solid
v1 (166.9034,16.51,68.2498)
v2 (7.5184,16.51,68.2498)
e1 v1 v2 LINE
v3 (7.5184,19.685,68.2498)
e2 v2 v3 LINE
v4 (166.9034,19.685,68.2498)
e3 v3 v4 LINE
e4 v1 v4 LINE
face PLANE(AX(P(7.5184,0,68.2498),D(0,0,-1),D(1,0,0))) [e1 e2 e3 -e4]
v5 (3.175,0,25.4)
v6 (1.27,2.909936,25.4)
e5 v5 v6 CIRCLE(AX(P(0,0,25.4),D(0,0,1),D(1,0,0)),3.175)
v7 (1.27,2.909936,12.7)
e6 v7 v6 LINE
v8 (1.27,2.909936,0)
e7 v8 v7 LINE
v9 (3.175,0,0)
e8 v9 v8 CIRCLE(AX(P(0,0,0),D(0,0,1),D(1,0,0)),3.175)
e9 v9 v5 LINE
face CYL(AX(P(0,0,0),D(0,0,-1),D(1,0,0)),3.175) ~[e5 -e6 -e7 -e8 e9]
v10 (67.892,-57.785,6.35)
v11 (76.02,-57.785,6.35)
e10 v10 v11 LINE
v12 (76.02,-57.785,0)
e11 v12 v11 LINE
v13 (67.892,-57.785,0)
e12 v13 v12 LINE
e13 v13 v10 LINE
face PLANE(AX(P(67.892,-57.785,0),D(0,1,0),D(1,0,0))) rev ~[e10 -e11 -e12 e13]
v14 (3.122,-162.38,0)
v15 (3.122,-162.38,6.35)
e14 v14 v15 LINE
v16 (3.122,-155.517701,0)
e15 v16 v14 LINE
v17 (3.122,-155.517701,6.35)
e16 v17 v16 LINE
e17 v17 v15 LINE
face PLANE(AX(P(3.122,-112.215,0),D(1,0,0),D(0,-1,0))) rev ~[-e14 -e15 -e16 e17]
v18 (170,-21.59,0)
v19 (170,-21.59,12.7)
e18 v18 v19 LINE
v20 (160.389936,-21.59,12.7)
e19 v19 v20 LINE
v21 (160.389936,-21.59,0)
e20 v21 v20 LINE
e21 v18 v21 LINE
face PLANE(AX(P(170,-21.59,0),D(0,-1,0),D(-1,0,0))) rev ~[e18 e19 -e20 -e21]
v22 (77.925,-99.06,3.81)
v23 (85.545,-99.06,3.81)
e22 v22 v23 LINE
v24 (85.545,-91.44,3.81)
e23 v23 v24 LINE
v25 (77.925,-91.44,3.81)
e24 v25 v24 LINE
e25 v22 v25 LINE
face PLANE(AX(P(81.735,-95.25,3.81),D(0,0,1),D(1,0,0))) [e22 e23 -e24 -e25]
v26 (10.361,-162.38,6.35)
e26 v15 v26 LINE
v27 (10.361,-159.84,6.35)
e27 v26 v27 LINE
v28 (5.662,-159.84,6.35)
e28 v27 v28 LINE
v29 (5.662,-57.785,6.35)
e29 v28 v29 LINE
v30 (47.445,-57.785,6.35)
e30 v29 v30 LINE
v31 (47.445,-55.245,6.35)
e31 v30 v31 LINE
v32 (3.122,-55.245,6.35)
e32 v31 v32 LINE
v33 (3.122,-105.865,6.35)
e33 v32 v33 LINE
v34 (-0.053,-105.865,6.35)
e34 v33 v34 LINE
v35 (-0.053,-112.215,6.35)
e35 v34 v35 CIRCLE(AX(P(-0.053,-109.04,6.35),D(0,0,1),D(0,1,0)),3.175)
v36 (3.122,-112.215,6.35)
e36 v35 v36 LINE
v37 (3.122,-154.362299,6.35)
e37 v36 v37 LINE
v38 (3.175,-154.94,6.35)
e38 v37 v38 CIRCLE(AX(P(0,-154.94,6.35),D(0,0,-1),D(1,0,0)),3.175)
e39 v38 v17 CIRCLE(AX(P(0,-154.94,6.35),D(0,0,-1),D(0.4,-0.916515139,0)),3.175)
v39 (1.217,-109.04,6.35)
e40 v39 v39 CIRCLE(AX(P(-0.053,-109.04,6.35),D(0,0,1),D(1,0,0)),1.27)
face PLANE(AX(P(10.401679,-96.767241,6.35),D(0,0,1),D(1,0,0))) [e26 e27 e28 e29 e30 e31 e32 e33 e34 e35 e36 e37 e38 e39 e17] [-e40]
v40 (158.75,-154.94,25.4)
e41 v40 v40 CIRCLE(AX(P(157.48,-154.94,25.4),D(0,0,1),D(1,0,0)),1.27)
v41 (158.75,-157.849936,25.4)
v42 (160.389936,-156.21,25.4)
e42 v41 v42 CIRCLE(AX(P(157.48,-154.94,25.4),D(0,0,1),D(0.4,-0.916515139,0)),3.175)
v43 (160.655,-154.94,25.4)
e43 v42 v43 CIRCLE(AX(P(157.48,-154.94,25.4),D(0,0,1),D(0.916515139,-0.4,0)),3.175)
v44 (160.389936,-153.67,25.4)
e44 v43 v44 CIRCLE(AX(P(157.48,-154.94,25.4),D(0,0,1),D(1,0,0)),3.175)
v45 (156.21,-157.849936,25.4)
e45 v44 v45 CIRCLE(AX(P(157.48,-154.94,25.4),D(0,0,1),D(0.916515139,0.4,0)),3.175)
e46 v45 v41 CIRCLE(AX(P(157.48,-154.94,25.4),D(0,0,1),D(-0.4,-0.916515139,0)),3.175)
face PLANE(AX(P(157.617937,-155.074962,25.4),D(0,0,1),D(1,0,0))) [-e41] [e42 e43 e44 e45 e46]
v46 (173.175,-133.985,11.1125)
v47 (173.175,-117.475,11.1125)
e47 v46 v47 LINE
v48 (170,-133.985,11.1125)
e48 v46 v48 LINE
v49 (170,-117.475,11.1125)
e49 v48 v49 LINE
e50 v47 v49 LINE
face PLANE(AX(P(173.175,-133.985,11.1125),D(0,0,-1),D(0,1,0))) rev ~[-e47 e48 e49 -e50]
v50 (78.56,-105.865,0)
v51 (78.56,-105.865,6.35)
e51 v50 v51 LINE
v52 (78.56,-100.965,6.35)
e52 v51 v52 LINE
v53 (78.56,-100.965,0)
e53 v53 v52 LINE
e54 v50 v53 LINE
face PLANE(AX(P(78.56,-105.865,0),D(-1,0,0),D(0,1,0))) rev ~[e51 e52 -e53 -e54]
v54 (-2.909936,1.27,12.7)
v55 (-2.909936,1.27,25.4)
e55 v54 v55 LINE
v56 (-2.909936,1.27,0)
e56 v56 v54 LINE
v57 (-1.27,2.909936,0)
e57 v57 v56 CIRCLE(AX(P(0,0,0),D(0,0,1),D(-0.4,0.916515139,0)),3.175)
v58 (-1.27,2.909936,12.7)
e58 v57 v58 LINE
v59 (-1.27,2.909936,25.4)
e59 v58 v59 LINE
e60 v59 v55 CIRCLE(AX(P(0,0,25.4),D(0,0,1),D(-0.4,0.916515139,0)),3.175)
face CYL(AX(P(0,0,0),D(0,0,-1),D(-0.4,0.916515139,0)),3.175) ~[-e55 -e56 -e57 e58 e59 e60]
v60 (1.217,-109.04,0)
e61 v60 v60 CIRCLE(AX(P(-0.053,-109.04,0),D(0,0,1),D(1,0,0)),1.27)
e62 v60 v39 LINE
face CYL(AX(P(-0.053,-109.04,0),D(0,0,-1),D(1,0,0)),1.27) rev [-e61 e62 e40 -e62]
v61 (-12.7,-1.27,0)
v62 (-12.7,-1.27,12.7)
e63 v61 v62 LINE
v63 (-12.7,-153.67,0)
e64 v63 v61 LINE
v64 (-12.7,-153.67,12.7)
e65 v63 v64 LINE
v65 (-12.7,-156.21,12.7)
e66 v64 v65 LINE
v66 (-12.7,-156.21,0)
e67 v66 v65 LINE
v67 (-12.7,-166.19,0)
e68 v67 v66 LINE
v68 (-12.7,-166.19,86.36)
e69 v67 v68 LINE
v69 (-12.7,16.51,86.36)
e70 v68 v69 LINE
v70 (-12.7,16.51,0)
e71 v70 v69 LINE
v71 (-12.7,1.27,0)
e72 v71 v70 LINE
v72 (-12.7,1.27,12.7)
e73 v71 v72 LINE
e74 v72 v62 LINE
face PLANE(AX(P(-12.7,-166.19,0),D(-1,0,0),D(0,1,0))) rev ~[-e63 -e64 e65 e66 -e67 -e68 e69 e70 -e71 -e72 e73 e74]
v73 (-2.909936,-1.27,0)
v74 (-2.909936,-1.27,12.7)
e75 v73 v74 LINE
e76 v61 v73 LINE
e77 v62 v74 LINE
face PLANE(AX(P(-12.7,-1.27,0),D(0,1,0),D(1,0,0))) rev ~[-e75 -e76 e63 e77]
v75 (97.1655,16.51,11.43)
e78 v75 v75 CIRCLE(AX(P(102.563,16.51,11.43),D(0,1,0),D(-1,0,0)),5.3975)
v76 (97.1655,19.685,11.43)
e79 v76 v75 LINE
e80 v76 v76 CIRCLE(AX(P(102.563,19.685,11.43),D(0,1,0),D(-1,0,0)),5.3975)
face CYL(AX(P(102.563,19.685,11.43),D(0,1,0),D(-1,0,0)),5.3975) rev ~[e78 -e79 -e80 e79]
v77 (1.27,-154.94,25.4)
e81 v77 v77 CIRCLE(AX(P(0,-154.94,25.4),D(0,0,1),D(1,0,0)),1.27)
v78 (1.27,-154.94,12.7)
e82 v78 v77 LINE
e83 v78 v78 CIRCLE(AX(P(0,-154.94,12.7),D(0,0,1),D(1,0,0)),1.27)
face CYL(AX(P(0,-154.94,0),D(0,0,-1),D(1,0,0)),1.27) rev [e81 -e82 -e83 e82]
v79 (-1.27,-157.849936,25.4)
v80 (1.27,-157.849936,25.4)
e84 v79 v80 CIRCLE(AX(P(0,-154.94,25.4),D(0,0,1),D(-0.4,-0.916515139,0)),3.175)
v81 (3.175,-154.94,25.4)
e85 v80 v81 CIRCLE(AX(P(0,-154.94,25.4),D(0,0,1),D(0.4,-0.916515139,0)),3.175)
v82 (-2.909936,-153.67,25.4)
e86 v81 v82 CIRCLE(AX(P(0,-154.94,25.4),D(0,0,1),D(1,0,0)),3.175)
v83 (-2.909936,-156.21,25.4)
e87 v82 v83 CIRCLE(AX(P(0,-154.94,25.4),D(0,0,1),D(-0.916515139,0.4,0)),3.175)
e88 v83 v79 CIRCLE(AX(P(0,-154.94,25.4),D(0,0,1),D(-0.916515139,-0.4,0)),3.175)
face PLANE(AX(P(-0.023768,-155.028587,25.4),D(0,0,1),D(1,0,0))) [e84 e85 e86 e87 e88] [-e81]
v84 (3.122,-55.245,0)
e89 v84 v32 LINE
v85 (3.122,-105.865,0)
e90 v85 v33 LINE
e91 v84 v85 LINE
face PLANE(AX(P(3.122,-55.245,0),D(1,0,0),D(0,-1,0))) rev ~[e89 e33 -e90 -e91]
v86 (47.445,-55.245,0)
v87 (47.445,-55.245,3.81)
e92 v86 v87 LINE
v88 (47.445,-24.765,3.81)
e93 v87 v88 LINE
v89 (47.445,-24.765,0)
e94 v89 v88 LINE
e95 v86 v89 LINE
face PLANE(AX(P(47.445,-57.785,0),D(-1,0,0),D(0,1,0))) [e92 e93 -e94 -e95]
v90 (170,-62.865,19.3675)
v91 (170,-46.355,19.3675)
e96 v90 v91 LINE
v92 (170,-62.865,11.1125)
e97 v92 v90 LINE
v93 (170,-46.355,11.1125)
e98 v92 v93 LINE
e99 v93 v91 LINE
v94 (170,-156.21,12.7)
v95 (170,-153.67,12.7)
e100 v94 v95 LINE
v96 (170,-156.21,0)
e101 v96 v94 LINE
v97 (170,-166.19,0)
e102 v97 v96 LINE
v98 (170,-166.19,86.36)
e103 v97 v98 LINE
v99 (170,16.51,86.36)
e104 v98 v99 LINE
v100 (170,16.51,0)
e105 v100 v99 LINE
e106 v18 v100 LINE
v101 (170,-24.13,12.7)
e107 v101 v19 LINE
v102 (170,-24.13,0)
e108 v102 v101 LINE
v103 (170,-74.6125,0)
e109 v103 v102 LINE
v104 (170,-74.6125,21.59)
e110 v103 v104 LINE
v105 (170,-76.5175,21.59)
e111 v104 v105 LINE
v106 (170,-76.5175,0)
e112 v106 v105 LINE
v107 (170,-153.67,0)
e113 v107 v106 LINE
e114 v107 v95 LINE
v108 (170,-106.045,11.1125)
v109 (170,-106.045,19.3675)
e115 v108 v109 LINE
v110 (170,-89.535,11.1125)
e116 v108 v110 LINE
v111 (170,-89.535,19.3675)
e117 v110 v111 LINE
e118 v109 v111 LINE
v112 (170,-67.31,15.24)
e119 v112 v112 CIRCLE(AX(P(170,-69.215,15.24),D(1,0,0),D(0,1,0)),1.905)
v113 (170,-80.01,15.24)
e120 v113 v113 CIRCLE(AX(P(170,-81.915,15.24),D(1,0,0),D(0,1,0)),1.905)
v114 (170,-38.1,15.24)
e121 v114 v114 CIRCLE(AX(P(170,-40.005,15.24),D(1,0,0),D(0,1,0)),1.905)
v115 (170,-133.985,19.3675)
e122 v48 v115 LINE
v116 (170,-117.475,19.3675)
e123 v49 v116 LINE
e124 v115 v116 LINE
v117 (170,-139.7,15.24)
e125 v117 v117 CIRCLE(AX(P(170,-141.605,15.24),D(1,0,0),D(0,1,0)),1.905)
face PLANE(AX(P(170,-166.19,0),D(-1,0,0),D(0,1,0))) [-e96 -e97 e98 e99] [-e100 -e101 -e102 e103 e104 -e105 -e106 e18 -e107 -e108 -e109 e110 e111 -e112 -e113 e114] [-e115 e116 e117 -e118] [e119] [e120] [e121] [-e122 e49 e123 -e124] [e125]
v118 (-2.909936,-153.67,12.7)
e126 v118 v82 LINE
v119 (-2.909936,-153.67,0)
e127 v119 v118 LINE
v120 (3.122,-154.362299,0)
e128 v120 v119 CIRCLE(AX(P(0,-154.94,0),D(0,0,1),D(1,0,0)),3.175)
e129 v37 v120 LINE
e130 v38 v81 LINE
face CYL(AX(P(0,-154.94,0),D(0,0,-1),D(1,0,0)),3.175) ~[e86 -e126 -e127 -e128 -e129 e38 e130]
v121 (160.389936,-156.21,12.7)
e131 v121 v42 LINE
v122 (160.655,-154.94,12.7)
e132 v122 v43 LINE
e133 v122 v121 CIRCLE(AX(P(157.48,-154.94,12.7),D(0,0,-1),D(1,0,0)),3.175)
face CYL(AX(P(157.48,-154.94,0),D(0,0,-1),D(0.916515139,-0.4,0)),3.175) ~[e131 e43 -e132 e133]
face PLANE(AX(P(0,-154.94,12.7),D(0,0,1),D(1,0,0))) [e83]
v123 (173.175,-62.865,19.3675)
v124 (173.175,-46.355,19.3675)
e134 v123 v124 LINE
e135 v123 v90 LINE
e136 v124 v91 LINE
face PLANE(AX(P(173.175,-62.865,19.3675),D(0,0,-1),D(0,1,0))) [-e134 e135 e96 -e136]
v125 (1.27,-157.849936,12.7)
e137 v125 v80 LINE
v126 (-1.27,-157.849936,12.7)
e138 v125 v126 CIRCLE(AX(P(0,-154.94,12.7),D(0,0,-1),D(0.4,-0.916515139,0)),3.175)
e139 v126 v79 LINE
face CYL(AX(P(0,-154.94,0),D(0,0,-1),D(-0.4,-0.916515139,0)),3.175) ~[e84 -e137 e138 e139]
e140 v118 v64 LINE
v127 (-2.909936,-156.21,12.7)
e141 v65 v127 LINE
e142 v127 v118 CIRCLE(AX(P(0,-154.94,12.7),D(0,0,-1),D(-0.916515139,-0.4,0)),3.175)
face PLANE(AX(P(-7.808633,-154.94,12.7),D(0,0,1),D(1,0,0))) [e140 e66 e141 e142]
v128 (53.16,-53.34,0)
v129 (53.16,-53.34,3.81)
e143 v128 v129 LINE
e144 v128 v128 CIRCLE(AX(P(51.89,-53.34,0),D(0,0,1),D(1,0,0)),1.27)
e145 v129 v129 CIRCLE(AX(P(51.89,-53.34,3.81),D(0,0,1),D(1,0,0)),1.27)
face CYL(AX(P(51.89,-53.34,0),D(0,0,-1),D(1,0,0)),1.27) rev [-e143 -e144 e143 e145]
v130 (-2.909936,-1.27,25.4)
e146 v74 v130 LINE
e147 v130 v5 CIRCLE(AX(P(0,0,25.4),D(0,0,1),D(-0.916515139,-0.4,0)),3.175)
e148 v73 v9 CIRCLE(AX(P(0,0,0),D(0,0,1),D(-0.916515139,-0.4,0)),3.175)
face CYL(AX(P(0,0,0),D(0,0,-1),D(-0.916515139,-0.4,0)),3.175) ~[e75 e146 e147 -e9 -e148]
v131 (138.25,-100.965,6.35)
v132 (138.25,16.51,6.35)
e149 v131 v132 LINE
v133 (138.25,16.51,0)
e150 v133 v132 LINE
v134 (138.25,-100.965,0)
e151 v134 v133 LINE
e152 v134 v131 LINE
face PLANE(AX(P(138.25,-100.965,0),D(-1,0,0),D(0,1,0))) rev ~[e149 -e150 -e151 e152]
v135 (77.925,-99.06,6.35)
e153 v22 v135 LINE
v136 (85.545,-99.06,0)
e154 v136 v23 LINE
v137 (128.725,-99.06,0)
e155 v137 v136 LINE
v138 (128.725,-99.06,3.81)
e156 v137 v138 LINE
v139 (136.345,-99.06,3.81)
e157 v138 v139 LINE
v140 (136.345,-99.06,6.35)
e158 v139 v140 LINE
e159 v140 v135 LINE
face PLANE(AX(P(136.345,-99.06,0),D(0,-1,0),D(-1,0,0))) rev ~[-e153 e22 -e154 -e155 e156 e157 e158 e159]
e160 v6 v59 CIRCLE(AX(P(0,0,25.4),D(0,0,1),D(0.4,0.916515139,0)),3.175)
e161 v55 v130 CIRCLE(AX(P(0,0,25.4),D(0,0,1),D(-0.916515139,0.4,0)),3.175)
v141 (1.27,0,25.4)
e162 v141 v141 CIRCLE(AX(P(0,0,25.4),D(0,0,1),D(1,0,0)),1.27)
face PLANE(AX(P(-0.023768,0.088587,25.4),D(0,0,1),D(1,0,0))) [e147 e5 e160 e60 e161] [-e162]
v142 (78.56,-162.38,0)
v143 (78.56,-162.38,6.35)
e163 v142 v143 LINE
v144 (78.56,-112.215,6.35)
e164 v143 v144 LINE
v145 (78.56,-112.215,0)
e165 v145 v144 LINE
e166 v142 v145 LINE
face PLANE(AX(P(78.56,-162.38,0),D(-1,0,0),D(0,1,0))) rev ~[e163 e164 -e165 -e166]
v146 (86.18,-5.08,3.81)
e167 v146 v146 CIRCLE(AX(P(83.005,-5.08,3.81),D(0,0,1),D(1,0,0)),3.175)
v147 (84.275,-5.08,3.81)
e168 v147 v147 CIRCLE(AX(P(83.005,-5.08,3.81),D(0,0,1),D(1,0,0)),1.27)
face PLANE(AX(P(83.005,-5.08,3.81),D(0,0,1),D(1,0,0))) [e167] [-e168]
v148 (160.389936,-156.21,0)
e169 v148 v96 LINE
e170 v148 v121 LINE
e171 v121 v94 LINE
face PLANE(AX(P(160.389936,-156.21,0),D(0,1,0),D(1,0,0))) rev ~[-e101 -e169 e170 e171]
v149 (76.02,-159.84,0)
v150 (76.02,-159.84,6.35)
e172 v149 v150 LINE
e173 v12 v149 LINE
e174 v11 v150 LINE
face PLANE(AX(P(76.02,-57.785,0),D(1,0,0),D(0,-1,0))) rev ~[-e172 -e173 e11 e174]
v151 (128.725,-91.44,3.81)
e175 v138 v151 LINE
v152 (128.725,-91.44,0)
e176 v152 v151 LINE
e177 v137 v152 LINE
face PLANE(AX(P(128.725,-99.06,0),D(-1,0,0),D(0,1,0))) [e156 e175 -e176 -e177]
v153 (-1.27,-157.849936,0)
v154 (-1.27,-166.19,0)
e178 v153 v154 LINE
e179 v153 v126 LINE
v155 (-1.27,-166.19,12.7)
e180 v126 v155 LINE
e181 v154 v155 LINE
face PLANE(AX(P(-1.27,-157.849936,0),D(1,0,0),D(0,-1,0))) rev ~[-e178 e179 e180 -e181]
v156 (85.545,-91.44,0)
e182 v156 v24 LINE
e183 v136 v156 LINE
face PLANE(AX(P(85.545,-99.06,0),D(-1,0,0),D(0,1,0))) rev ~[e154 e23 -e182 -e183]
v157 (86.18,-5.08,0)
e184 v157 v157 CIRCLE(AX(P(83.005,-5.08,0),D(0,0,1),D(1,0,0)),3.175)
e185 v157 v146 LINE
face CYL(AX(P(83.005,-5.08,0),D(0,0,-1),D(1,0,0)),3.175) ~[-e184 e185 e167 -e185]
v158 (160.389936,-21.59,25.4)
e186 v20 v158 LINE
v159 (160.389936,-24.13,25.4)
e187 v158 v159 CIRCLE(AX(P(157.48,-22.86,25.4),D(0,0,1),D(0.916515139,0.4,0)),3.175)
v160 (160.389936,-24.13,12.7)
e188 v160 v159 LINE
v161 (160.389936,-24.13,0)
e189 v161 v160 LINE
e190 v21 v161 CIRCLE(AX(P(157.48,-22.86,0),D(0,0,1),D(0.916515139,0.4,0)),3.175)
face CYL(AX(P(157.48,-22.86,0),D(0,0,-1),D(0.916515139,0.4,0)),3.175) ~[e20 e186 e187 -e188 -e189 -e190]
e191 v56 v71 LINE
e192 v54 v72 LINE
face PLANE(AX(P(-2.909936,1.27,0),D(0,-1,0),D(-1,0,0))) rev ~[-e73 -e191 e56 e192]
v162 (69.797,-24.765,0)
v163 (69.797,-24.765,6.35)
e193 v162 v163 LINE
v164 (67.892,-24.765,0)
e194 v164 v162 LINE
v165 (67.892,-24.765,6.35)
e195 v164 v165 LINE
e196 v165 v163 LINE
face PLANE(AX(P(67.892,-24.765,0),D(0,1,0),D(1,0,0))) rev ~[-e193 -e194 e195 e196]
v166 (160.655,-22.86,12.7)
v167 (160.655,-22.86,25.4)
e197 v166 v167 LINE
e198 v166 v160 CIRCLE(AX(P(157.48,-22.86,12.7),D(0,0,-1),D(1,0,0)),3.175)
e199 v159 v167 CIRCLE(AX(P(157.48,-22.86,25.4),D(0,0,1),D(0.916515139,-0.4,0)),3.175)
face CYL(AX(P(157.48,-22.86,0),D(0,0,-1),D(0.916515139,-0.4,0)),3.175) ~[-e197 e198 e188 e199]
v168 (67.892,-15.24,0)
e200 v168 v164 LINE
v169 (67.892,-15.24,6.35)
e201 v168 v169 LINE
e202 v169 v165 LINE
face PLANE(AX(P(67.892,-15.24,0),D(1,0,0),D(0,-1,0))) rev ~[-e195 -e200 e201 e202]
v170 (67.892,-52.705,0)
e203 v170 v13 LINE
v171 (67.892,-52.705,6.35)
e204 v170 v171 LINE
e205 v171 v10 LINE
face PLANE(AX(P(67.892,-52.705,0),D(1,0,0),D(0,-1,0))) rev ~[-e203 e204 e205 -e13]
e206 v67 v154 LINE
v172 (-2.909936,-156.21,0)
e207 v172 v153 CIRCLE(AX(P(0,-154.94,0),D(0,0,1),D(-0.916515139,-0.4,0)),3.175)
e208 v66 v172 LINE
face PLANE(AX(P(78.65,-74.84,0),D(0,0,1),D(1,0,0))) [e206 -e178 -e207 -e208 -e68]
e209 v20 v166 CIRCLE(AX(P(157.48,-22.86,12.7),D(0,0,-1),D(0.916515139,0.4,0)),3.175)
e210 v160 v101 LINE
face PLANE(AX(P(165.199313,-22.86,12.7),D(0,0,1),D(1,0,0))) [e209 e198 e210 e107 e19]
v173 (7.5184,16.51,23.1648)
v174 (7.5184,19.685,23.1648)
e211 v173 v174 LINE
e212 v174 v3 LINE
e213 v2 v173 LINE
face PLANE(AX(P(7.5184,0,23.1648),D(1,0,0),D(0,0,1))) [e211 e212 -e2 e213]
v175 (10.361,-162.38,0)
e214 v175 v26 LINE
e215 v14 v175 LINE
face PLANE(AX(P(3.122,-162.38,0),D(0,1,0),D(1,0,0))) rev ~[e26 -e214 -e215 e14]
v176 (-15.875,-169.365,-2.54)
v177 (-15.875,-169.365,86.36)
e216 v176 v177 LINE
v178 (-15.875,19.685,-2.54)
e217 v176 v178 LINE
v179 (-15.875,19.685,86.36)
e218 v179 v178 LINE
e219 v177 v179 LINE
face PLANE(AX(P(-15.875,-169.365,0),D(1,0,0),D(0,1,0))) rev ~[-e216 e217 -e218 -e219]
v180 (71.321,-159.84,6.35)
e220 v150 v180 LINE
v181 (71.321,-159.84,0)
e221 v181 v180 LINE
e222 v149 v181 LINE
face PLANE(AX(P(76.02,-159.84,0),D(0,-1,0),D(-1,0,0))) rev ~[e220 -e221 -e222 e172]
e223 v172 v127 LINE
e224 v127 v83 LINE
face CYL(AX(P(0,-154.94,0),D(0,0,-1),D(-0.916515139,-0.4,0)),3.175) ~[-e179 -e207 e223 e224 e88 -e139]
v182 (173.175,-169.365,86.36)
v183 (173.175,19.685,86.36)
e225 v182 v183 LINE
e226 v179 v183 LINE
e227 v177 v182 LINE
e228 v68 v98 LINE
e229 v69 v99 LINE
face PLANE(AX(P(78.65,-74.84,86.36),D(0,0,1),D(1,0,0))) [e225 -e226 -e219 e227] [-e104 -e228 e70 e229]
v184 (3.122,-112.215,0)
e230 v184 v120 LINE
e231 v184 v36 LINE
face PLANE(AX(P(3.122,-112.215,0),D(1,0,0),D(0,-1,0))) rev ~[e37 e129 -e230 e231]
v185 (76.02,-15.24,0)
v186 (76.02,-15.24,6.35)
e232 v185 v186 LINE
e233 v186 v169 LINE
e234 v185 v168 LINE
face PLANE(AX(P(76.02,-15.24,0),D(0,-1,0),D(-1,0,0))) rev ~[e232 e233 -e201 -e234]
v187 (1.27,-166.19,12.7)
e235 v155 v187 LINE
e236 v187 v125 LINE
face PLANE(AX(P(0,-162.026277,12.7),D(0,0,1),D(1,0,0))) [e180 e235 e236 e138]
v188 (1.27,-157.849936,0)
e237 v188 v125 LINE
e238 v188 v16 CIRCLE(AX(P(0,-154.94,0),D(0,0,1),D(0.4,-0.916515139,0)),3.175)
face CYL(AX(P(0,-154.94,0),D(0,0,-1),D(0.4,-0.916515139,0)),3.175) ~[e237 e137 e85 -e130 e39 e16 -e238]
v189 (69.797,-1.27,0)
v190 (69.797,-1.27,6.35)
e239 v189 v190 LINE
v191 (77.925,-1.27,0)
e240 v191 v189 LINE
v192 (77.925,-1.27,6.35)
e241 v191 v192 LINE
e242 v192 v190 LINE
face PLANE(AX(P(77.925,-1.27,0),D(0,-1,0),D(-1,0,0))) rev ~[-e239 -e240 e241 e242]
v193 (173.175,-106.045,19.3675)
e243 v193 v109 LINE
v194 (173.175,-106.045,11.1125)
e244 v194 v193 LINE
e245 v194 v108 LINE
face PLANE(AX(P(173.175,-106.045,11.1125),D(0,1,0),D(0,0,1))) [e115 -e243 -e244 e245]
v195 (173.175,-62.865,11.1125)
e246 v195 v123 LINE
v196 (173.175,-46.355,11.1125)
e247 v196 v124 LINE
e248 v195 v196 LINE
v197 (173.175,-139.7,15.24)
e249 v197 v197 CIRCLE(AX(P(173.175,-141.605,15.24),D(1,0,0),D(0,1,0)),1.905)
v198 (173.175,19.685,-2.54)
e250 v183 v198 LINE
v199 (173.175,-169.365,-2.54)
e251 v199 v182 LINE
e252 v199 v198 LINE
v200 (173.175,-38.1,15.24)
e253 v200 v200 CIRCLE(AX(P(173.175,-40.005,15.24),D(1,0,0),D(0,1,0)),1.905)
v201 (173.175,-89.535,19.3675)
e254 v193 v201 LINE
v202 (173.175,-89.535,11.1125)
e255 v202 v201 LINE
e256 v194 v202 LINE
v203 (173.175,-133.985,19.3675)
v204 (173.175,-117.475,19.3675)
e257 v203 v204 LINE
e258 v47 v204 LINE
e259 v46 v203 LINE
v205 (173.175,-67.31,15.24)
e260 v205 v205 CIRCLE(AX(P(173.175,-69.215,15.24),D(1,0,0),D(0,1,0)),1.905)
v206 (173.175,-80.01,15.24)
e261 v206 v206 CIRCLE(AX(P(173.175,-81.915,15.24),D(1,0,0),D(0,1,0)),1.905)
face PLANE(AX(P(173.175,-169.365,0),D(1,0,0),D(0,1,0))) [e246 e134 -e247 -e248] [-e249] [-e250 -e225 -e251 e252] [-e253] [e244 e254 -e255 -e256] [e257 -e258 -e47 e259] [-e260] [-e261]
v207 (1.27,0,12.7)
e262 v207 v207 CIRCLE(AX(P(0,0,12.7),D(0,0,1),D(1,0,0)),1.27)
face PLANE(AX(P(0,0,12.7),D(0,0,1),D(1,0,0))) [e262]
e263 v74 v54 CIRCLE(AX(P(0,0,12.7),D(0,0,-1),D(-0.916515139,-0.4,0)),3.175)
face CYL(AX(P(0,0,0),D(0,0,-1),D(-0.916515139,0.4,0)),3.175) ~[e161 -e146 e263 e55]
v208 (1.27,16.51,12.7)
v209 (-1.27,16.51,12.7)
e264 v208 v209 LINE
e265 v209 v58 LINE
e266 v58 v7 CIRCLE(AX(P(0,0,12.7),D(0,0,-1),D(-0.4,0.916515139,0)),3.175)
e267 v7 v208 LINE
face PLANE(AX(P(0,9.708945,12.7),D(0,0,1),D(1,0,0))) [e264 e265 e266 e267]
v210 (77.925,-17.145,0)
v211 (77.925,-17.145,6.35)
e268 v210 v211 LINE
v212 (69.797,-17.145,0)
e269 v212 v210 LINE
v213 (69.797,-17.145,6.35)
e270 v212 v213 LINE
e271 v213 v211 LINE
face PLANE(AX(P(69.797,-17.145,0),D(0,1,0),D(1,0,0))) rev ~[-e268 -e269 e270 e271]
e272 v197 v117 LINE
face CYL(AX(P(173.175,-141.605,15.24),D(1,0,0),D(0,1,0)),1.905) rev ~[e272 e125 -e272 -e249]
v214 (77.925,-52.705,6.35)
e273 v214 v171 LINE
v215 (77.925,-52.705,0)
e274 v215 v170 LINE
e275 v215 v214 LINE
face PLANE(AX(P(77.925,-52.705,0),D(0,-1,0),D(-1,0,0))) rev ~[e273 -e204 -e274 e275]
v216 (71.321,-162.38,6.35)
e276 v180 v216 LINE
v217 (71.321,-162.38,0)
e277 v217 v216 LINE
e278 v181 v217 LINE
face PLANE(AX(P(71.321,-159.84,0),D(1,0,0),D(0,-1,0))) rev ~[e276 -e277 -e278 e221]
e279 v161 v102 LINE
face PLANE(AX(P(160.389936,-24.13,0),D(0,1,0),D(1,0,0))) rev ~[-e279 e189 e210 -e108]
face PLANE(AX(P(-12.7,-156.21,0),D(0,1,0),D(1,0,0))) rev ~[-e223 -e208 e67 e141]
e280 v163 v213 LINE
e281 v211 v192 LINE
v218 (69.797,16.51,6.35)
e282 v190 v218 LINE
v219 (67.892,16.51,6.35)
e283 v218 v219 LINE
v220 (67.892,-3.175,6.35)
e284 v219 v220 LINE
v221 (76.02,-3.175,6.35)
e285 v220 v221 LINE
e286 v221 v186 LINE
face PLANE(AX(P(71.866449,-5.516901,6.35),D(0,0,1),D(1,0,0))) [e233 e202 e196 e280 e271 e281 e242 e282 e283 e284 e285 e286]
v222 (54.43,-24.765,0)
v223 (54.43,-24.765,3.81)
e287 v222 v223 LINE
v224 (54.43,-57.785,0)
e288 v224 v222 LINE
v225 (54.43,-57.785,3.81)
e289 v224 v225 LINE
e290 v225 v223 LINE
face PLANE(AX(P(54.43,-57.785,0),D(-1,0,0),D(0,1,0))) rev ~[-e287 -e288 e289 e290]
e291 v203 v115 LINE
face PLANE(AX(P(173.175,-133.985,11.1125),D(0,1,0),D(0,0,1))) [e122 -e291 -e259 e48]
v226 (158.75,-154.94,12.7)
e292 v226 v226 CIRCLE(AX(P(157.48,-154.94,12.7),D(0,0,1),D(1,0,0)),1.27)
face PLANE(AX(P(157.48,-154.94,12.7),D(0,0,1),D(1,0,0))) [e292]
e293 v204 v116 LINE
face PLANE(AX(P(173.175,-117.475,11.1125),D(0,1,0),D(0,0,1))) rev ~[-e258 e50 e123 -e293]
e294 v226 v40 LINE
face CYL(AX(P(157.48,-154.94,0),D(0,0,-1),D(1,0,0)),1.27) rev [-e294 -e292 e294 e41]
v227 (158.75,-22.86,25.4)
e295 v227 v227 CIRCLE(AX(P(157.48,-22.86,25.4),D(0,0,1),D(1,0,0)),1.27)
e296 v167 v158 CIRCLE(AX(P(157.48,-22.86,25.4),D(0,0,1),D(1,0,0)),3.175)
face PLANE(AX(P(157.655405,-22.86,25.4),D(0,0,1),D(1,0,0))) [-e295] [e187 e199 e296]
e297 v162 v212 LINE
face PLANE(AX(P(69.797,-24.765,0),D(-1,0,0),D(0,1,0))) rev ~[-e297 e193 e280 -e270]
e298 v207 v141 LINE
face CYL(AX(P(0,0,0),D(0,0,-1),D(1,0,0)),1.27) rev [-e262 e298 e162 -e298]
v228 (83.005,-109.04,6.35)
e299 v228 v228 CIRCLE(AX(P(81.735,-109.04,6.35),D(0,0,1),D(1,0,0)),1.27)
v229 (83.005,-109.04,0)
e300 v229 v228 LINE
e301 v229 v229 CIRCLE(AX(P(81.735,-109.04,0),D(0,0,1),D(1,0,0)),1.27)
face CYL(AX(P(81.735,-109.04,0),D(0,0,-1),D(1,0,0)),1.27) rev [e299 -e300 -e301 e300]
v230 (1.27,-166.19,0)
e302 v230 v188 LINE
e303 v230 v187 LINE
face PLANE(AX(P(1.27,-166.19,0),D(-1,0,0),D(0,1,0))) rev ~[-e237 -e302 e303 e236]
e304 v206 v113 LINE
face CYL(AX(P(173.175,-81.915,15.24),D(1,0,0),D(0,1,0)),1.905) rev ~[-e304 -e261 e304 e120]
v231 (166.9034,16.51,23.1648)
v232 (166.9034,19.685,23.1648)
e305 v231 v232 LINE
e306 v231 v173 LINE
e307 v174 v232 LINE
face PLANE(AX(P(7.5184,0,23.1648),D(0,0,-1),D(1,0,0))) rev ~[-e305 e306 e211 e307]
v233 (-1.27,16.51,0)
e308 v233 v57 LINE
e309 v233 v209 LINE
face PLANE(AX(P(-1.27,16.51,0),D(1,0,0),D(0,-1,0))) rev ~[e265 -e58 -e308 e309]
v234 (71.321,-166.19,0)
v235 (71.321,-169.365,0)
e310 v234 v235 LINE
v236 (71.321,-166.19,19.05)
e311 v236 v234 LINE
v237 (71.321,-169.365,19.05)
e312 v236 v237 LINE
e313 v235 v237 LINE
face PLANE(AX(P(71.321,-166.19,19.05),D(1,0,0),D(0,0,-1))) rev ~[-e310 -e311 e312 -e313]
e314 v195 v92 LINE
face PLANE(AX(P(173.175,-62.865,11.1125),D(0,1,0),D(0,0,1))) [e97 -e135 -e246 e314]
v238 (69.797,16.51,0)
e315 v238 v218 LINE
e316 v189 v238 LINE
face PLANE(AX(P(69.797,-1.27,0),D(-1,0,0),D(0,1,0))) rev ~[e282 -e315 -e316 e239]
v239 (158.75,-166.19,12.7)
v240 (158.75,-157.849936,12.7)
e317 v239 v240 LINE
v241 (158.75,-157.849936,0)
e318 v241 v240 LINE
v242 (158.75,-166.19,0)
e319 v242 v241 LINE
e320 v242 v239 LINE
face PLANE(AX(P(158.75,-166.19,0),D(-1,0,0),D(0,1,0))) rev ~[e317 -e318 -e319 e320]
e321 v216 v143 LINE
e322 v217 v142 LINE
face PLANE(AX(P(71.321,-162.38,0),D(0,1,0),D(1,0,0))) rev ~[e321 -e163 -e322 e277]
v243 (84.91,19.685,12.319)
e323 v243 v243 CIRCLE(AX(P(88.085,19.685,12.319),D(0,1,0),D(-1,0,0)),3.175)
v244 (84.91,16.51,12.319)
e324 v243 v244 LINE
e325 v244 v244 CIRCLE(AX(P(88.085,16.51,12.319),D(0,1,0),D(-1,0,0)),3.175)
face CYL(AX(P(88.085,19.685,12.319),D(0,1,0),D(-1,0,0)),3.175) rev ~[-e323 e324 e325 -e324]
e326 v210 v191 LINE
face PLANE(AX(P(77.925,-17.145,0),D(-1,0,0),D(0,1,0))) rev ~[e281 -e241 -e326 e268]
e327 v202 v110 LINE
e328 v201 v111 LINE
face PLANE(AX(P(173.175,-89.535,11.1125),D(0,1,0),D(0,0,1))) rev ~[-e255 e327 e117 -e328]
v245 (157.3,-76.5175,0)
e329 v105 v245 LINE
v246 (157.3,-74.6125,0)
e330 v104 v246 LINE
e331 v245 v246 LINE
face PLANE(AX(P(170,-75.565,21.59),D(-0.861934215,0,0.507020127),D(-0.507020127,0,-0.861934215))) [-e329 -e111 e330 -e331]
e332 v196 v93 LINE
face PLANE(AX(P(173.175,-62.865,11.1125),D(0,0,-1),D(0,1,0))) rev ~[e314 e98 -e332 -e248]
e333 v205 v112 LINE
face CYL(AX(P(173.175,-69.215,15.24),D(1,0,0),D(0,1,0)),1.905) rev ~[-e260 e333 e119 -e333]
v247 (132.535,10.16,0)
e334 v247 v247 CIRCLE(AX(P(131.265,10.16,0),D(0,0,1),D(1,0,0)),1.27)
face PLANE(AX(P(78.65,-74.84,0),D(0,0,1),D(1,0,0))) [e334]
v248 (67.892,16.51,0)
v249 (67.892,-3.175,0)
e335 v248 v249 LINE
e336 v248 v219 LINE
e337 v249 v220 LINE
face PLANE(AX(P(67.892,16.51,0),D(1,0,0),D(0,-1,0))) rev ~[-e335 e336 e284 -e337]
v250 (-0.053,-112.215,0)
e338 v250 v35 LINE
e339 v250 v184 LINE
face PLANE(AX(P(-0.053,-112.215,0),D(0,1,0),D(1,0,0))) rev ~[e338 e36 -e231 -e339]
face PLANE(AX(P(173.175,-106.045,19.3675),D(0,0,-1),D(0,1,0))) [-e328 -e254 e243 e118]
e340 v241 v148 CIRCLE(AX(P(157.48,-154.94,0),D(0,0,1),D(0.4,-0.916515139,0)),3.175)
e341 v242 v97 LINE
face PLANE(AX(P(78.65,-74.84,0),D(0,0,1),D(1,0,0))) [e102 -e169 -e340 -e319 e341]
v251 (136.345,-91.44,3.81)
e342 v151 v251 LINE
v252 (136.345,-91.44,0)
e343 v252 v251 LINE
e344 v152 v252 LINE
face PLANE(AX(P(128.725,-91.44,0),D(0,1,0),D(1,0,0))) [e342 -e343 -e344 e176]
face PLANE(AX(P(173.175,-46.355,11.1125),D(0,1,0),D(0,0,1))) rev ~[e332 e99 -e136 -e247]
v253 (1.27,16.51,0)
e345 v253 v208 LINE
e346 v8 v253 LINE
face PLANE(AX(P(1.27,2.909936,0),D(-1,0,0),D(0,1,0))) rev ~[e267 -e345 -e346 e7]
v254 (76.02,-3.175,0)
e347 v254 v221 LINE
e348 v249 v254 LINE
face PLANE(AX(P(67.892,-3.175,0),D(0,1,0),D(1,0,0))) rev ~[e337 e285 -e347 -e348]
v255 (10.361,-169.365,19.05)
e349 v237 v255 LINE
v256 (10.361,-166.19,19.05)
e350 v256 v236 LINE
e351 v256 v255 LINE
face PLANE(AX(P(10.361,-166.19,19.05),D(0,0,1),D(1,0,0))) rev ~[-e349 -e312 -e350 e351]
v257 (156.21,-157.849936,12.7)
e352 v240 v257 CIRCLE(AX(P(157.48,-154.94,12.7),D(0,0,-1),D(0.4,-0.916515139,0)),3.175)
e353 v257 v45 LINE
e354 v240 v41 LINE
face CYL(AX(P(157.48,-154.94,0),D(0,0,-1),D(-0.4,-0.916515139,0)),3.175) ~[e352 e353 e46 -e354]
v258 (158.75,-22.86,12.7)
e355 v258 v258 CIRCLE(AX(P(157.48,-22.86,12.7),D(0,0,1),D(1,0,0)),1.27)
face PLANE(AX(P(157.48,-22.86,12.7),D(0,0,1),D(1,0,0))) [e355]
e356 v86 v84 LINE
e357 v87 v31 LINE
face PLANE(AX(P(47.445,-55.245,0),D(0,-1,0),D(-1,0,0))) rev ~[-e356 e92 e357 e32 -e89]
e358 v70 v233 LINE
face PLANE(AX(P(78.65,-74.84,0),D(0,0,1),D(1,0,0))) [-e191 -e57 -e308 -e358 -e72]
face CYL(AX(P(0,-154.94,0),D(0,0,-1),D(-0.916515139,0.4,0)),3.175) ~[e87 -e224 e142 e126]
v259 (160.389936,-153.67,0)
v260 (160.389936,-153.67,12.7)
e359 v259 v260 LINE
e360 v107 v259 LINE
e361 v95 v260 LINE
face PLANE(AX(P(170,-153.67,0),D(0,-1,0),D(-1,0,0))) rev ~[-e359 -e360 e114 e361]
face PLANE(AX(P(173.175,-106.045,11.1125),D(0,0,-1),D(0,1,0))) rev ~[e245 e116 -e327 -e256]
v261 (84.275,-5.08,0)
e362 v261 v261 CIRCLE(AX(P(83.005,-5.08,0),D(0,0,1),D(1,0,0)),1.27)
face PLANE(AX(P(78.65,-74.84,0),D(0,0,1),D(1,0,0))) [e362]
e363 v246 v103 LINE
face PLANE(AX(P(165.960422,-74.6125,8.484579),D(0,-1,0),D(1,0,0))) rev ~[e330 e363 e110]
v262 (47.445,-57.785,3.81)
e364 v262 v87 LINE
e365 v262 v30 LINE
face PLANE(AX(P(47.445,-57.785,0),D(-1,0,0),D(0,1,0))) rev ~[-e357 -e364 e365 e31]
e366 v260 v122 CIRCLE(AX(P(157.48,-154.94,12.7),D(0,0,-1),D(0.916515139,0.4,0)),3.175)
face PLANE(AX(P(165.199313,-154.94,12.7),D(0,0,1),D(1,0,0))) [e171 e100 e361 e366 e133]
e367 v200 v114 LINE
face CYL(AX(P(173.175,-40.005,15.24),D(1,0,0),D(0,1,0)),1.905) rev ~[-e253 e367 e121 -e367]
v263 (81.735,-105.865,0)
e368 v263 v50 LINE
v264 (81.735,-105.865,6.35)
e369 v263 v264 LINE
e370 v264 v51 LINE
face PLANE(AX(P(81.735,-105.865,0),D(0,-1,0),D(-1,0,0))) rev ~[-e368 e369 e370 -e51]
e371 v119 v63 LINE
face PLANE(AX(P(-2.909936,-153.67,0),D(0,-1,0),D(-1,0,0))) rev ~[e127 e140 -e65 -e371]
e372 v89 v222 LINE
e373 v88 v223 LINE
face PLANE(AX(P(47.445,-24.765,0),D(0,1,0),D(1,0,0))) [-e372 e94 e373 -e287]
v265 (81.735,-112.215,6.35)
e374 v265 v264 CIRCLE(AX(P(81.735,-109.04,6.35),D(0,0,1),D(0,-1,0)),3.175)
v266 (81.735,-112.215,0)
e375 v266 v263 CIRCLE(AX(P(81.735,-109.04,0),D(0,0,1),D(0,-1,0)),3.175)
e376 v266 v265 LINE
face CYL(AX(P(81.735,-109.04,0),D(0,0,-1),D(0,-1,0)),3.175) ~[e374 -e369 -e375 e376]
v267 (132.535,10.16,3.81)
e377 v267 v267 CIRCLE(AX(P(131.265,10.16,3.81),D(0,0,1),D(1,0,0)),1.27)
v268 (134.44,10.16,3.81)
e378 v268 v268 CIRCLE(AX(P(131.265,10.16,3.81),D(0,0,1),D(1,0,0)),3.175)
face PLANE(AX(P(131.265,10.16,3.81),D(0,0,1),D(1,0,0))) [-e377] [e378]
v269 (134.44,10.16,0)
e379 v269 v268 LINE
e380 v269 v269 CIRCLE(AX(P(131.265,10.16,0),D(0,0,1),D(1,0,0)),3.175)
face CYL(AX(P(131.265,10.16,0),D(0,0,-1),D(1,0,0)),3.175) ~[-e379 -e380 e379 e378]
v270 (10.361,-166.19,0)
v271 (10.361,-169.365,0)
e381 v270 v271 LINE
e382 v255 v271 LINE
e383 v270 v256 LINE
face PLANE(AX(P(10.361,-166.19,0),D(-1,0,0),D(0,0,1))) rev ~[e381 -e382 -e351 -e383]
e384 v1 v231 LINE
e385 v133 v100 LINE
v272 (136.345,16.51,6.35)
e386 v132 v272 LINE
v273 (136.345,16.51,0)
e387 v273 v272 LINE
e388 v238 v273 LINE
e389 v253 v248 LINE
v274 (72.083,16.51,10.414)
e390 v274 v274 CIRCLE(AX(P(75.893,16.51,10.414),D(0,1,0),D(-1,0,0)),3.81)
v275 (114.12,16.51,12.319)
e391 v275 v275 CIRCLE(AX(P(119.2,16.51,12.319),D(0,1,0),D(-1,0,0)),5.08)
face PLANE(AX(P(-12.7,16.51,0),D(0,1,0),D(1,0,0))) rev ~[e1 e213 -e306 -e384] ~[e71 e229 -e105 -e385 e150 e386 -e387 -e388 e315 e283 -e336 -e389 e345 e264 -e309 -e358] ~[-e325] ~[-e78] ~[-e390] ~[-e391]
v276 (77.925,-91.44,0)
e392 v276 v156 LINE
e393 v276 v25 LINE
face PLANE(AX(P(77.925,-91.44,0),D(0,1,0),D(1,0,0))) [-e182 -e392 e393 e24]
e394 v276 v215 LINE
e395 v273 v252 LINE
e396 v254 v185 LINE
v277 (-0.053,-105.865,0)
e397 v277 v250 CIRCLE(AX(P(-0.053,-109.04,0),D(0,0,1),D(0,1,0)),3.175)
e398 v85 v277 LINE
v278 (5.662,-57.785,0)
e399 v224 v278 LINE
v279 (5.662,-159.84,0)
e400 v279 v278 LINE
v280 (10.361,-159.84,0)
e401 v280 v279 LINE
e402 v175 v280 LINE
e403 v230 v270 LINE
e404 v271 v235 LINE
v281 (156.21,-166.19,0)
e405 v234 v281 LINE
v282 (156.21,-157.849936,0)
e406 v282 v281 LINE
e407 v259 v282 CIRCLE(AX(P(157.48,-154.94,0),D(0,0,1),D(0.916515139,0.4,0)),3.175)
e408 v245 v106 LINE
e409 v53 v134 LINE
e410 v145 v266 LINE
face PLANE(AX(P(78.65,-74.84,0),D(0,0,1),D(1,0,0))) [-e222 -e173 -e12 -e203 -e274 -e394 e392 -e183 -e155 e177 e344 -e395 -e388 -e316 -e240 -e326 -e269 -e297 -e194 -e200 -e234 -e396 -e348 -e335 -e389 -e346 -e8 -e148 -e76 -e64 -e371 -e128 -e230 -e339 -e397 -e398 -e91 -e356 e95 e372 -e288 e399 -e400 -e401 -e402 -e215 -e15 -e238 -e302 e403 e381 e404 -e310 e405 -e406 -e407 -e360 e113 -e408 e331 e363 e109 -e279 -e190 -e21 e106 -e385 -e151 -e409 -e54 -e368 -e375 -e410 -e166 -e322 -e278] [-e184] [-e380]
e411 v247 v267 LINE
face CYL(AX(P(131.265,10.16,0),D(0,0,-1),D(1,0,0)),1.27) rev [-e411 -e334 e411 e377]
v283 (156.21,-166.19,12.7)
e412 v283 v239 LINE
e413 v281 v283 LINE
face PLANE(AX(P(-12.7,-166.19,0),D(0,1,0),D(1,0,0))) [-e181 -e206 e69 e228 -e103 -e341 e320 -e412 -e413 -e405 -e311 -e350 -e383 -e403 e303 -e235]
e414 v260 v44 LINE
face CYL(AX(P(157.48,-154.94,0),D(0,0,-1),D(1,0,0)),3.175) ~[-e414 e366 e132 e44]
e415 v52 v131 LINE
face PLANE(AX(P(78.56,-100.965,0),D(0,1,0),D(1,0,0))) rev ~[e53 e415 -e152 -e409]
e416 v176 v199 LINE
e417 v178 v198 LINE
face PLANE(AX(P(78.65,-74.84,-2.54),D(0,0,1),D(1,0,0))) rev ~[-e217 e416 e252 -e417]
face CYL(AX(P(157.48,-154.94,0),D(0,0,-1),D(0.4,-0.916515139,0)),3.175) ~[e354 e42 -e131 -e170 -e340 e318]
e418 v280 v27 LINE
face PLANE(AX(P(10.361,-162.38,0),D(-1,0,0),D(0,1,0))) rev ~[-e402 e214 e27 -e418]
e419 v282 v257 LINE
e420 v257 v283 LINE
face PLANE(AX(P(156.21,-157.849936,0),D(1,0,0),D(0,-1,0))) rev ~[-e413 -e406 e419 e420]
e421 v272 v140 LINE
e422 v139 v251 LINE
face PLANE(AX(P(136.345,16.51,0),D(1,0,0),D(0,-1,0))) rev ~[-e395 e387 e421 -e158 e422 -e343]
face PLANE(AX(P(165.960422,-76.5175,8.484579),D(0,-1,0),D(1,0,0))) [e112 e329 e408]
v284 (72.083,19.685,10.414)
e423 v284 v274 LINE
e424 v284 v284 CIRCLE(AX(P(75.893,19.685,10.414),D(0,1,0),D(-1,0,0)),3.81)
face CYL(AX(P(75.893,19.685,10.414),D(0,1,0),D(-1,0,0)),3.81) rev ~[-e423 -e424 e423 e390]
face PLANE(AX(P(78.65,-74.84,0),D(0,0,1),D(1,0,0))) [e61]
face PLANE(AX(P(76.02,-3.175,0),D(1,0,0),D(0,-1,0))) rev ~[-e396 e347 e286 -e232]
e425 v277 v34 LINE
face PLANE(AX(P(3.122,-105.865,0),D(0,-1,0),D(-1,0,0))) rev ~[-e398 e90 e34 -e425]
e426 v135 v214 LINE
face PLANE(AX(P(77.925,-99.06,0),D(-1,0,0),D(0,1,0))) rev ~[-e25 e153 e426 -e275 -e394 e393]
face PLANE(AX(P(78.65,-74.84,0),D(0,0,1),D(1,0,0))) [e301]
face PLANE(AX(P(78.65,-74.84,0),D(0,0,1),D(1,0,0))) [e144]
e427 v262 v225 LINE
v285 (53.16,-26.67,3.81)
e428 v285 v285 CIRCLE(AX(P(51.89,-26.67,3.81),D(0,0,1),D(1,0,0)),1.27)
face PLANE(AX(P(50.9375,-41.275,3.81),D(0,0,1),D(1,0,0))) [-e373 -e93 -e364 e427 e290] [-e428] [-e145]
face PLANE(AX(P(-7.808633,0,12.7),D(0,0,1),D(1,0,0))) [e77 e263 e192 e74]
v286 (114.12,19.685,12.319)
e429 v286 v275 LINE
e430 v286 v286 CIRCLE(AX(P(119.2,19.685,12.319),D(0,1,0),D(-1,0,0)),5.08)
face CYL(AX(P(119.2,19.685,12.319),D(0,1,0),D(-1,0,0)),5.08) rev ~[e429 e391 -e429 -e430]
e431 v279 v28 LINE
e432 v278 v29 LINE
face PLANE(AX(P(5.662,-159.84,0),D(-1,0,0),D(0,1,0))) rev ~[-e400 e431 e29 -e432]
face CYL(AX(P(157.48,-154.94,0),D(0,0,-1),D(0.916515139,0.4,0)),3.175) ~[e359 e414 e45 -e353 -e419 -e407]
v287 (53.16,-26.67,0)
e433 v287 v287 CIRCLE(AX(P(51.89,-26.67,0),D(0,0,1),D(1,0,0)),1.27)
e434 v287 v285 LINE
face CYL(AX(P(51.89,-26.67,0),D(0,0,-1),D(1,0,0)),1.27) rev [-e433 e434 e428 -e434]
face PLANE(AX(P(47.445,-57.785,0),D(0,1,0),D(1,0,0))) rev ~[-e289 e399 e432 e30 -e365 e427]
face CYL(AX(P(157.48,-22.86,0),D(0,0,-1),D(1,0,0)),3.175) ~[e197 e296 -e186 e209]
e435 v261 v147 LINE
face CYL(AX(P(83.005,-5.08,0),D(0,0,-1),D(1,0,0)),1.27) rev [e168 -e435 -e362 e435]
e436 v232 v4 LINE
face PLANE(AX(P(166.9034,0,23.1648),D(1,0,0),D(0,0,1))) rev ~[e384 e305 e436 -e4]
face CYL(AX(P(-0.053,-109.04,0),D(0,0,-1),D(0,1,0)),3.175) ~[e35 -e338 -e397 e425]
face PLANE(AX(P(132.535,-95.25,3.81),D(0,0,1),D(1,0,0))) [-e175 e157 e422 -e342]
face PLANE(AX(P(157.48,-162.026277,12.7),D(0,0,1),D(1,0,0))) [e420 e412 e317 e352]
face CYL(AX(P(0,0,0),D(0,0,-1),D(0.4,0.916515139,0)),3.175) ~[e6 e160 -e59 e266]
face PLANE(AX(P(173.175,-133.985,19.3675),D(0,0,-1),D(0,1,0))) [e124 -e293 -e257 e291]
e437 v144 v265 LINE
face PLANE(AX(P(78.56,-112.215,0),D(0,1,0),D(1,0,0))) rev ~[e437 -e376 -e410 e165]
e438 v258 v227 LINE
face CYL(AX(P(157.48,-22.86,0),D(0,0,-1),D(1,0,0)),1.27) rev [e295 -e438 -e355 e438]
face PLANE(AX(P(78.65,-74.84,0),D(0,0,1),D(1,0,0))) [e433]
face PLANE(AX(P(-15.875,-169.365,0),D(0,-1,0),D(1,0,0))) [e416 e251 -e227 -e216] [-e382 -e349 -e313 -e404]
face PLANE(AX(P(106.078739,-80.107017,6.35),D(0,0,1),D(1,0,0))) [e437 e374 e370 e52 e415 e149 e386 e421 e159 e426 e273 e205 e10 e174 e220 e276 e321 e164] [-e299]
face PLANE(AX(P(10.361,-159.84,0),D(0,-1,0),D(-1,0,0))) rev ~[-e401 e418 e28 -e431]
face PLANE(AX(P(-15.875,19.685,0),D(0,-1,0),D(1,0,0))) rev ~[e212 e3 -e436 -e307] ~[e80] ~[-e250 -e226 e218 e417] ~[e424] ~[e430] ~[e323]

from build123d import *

# Parameters (mm, degrees)
F1_W      = 189.0500009048
F1_H      = 189.0500009048
F1_W_2    = 182.7000009048
F1_H_2    = 182.7000009048
F2_DEPTH  = 86.36
F5_W      = 189.0500009048
F5_H      = 189.0500009048
F6_DEPTH  = 2.54
F7_W      = 7.62
F7_H      = 7.62
F7_R      = 3.175
F7_R_2    = 1.27
F7_W_2    = 6.985
F7_H_2    = 33.02
F8_DEPTH  = 3.81
F9_R      = 1.27
F10_DEPTH = 6.35
F11_R     = 5.08
F11_R_2   = 5.3975
F11_R_3   = 3.175
F11_R_4   = 3.81
F12_DEPTH = 3.175
F14_DEPTH = 3.176
F15_W     = 16.51
F15_H     = 8.255
F15_R     = 1.905
F16_DEPTH = 3.175
F20_DEPTH = 0.9525
F21_R     = 1.27
F22_DEPTH = 12.7
F23_DEPTH = 25.4
F24_W     = 159.385
F24_H     = 45.085
F25_DEPTH = 25.4


with BuildPart() as f2:
    # F1 (on Top) → F2 (new body)
    with BuildSketch(Plane.XY):
        with Locations((78.65, -74.84)):
            Rectangle(F1_W, F1_H)
        with Locations((78.65, -74.84)):
            Rectangle(F1_W_2, F1_H_2, mode=Mode.SUBTRACT)
    extrude(amount=F2_DEPTH)

    # F5 (on Top) → F6 (join)
    with BuildSketch(Plane.XY):
        with Locations((78.65, -74.84)):
            Rectangle(F5_W, F5_H)
    extrude(amount=-F6_DEPTH)

    # F7 (on Top) → F8 (join)
    with BuildSketch(Plane.XY):
        with Locations((81.7350004524, -95.2499995476)):
            Rectangle(F7_W, F7_H)
        with Locations((132.5350004524, -95.2499995476)):
            Rectangle(F7_W, F7_H)
        with Locations((83.0050004524, -5.0799995476)):
            Circle(F7_R)
        with Locations((83.0050004524, -5.0799995476)):
            Circle(F7_R_2, mode=Mode.SUBTRACT)
        with Locations((131.2650004524, 10.1600004524)):
            Circle(F7_R)
        with Locations((131.2650004524, 10.1600004524)):
            Circle(F7_R_2, mode=Mode.SUBTRACT)
        with Locations((50.9375004524, -41.2749995476)):
            Rectangle(F7_W_2, F7_H_2)
        with Locations((51.8900004524, -53.3399995476)):
            Circle(F7_R_2, mode=Mode.SUBTRACT)
        with Locations((51.8900004524, -26.6699995476)):
            Circle(F7_R_2, mode=Mode.SUBTRACT)
    extrude(amount=F8_DEPTH)

    # F9 (on Top) → F10 (join)
    with BuildSketch(Plane.XY):
        Polygon((76.0200004524, -15.2399995476), (67.8920004524, -15.2399995476), (67.8920004524, -24.7649995476), (69.7970004524, -24.7649995476), (69.7970004524, -17.1449995476), (77.9250004524, -17.1449995476), (77.9250004524, -1.2699995476), (69.7970004524, -1.2699995476), (69.7970004524, 16.5100004524), (67.8920004524, 16.5100004524), (67.8920004524, -3.1749995476), (76.0200004524, -3.1749995476), align=None)
        with BuildLine():
            Line((136.3450004524, 16.5100004524), (136.3450004524, -99.0599995476))
            Line((136.3450004524, -99.0599995476), (77.9250004524, -99.0599995476))
            Line((77.9250004524, -99.0599995476), (77.9250004524, -52.7049995476))
            Line((77.9250004524, -52.7049995476), (67.8920004524, -52.7049995476))
            Line((67.8920004524, -52.7049995476), (67.8920004524, -57.7849995476))
            Line((67.8920004524, -57.7849995476), (76.0200004524, -57.7849995476))
            Line((76.0200004524, -57.7849995476), (76.0200004524, -100.9649995476))
            Line((76.0200004524, -100.9649995476), (76.0200004524, -159.84))
            Line((76.0200004524, -159.84), (71.3210004524, -159.84))
            Line((71.3210004524, -159.84), (71.3210004524, -162.38))
            Line((71.3210004524, -162.38), (78.5600004524, -162.38))
            Line((78.5600004524, -162.38), (78.5600004524, -112.215))
            Line((78.5600004524, -112.215), (81.7350004524, -112.215))
            ThreePointArc((81.7350004524, -112.215), (84.9100004524, -109.04), (81.7350004524, -105.865))
            Line((81.7350004524, -105.865), (78.5600004524, -105.865))
            Line((78.5600004524, -105.865), (78.5600004524, -100.9649995476))
            Line((78.5600004524, -100.9649995476), (138.2500004524, -100.9649995476))
            Line((138.2500004524, -100.9649995476), (138.2500004524, 16.5100004524))
            Line((138.2500004524, 16.5100004524), (136.3450004524, 16.5100004524))
        make_face()
        with Locations((81.7350004524, -109.04)):
            Circle(F9_R, mode=Mode.SUBTRACT)
        with BuildLine():
            Line((5.6620004524, -57.7849995476), (47.4450004524, -57.7849995476))
            Line((47.4450004524, -57.7849995476), (47.4450004524, -55.2449995476))
            Line((47.4450004524, -55.2449995476), (3.1220004524, -55.2449995476))
            Line((3.1220004524, -55.2449995476), (3.1220004524, -105.865))
            Line((3.1220004524, -105.865), (-0.0529995476, -105.865))
            ThreePointArc((-0.0529995476, -105.865), (-3.2279995476, -109.04), (-0.0529995476, -112.215))
            Line((-0.0529995476, -112.215), (3.1220004524, -112.215))
            Line((3.1220004524, -112.215), (3.1220004524, -162.38))
            Line((3.1220004524, -162.38), (10.3610004524, -162.38))
            Line((10.3610004524, -162.38), (10.3610004524, -159.84))
            Line((10.3610004524, -159.84), (5.6620004524, -159.84))
            Line((5.6620004524, -159.84), (5.6620004524, -57.7849995476))
        make_face()
        with Locations((-0.0529995476, -109.04)):
            Circle(F9_R, mode=Mode.SUBTRACT)
    extrude(amount=F10_DEPTH)

    # F11 (on face) → F12 (cut, through all)
    with BuildSketch(Plane(origin=(0, 19.6850004524, 0), x_dir=(-1, 0, 0), z_dir=(0, 1, 0))):
        with Locations((-119.2000004524, 12.319)):
            Circle(F11_R)
        with Locations((-102.5630004524, 11.43)):
            Circle(F11_R_2)
        with Locations((-88.0850004524, 12.319)):
            Circle(F11_R_3)
        with Locations((-75.8930004524, 10.414)):
            Circle(F11_R_4)
    extrude(amount=-F12_DEPTH, mode=Mode.SUBTRACT)

    # F13 (on face) → F14 (cut, through all)
    with BuildSketch(Plane(origin=(0, -166.1900004524, 0), x_dir=(-1, 0, 0), z_dir=(0, 1, 0))):
        Polygon((-10.3610004524, 0), (-10.3610004524, 6.35), (-10.3610004524, 19.05), (-71.3210004524, 19.05), (-71.3210004524, 6.35), (-71.3210004524, 0), align=None)
    extrude(amount=-F14_DEPTH, mode=Mode.SUBTRACT)

    # F15 (on face) → F16 (cut, through all)
    with BuildSketch(Plane.YZ.offset(173.1750004524)):
        with Locations((-125.73, 15.24)):
            Rectangle(F15_W, F15_H)
        with Locations((-141.605, 15.24)):
            Circle(F15_R)
        with Locations((-97.79, 15.24)):
            Rectangle(F15_W, F15_H)
        with Locations((-81.915, 15.24)):
            Circle(F15_R)
        with Locations((-54.61, 15.24)):
            Rectangle(F15_W, F15_H)
        with Locations((-69.215, 15.24)):
            Circle(F15_R)
        with Locations((-40.005, 15.24)):
            Circle(F15_R)
    extrude(amount=-F16_DEPTH, mode=Mode.SUBTRACT)

    # F19 (on plane+point) → F20 (join, symmetric)
    with BuildSketch(Plane.XZ.offset(75.565)):
        Polygon((170.0000004524, 0), (170.0000004524, 21.59), (157.3000004524, 0), align=None)
    extrude(amount=F20_DEPTH, both=True)

    # F21 (on Top) → F22 (join)
    with BuildSketch(Plane.XY):
        with BuildLine():
            ThreePointArc((-1.27, 2.9099355663), (0, 3.175), (1.27, 2.9099355663))
            Line((1.27, 2.9099355663), (1.27, 16.5100004524))
            Line((1.27, 16.5100004524), (-1.27, 16.5100004524))
            Line((-1.27, 16.5100004524), (-1.27, 2.9099355663))
        make_face()
        with BuildLine():
            Line((-12.7000004524, -1.27), (-2.9099355663, -1.27))
            ThreePointArc((-2.9099355663, -1.27), (-3.175, 0), (-2.9099355663, 1.27))
            Line((-2.9099355663, 1.27), (-12.7000004524, 1.27))
            Line((-12.7000004524, 1.27), (-12.7000004524, -1.27))
        make_face()
        Circle(F21_R)
        with Locations((157.48, -22.86)):
            Circle(F21_R)
        with BuildLine():
            ThreePointArc((160.3899355663, -21.59), (160.5880275436, -22.2113168813), (160.655, -22.86))
            ThreePointArc((160.655, -22.86), (160.5880275436, -23.5086831187), (160.3899355663, -24.13))
            Line((160.3899355663, -24.13), (170.0000004524, -24.13))
            Line((170.0000004524, -24.13), (170.0000004524, -21.59))
            Line((170.0000004524, -21.59), (160.3899355663, -21.59))
        make_face()
        with Locations((157.48, -154.94)):
            Circle(F21_R)
        with BuildLine():
            ThreePointArc((160.3899355663, -153.67), (160.5880275436, -154.2913168813), (160.655, -154.94))
            ThreePointArc((160.655, -154.94), (160.5880275436, -155.5886831187), (160.3899355663, -156.21))
            Line((160.3899355663, -156.21), (170.0000004524, -156.21))
            Line((170.0000004524, -156.21), (170.0000004524, -153.67))
            Line((170.0000004524, -153.67), (160.3899355663, -153.67))
        make_face()
        with BuildLine():
            ThreePointArc((158.75, -157.8499355663), (157.48, -158.115), (156.21, -157.8499355663))
            Line((156.21, -157.8499355663), (156.21, -166.1900004524))
            Line((156.21, -166.1900004524), (158.75, -166.1900004524))
            Line((158.75, -166.1900004524), (158.75, -157.8499355663))
        make_face()
        with BuildLine():
            ThreePointArc((-2.9099355663, -156.21), (-3.175, -154.94), (-2.9099355663, -153.67))
            Line((-2.9099355663, -153.67), (-12.7000004524, -153.67))
            Line((-12.7000004524, -153.67), (-12.7000004524, -156.21))
            Line((-12.7000004524, -156.21), (-2.9099355663, -156.21))
        make_face()
        with Locations((0, -154.94)):
            Circle(F21_R)
        with BuildLine():
            Line((1.27, -166.1900004524), (1.27, -157.8499355663))
            ThreePointArc((1.27, -157.8499355663), (0, -158.115), (-1.27, -157.8499355663))
            Line((-1.27, -157.8499355663), (-1.27, -166.1900004524))
            Line((-1.27, -166.1900004524), (1.27, -166.1900004524))
        make_face()
    extrude(amount=F22_DEPTH)

    # F21 (on Top) → F23 (join)
    with BuildSketch(Plane.XY):
        with BuildLine():
            ThreePointArc((-2.9099355663, -1.27), (0.6486831187, -3.1080275436), (3.175, 0))
            ThreePointArc((3.175, 0), (2.6563955842, 1.7390191201), (1.27, 2.9099355663))
            ThreePointArc((1.27, 2.9099355663), (0, 3.175), (-1.27, 2.9099355663))
            ThreePointArc((-1.27, 2.9099355663), (-2.2450640303, 2.2450640303), (-2.9099355663, 1.27))
            ThreePointArc((-2.9099355663, 1.27), (-3.175, 0), (-2.9099355663, -1.27))
        make_face()
        Circle(F21_R, mode=Mode.SUBTRACT)
        with BuildLine():
            ThreePointArc((160.3899355663, -24.13), (160.5880275436, -23.5086831187), (160.655, -22.86))
            ThreePointArc((160.655, -22.86), (160.5880275436, -22.2113168813), (160.3899355663, -21.59))
            ThreePointArc((160.3899355663, -21.59), (154.305, -22.86), (160.3899355663, -24.13))
        make_face()
        with Locations((157.48, -22.86)):
            Circle(F21_R, mode=Mode.SUBTRACT)
        with BuildLine():
            ThreePointArc((1.27, -157.8499355663), (2.6563955842, -156.6790191201), (3.175, -154.94))
            ThreePointArc((3.175, -154.94), (0.6486831187, -151.8319724564), (-2.9099355663, -153.67))
            ThreePointArc((-2.9099355663, -153.67), (-3.175, -154.94), (-2.9099355663, -156.21))
            ThreePointArc((-2.9099355663, -156.21), (-2.2450640303, -157.1850640303), (-1.27, -157.8499355663))
            ThreePointArc((-1.27, -157.8499355663), (0, -158.115), (1.27, -157.8499355663))
        make_face()
        with Locations((0, -154.94)):
            Circle(F21_R, mode=Mode.SUBTRACT)
        with BuildLine():
            ThreePointArc((160.3899355663, -156.21), (160.5880275436, -155.5886831187), (160.655, -154.94))
            ThreePointArc((160.655, -154.94), (160.5880275436, -154.2913168813), (160.3899355663, -153.67))
            ThreePointArc((160.3899355663, -153.67), (155.2349359697, -152.6949359697), (156.21, -157.8499355663))
            ThreePointArc((156.21, -157.8499355663), (157.48, -158.115), (158.75, -157.8499355663))
            ThreePointArc((158.75, -157.8499355663), (159.7250640303, -157.1850640303), (160.3899355663, -156.21))
        make_face()
        with Locations((157.48, -154.94)):
            Circle(F21_R, mode=Mode.SUBTRACT)
    extrude(amount=F23_DEPTH)

    # F24 (on Front) → F25 (cut)
    with BuildSketch(Plane.XZ):
        with Locations((87.2109, 45.7073)):
            Rectangle(F24_W, F24_H)
    extrude(amount=-F25_DEPTH, mode=Mode.SUBTRACT)


solid = f2.part
